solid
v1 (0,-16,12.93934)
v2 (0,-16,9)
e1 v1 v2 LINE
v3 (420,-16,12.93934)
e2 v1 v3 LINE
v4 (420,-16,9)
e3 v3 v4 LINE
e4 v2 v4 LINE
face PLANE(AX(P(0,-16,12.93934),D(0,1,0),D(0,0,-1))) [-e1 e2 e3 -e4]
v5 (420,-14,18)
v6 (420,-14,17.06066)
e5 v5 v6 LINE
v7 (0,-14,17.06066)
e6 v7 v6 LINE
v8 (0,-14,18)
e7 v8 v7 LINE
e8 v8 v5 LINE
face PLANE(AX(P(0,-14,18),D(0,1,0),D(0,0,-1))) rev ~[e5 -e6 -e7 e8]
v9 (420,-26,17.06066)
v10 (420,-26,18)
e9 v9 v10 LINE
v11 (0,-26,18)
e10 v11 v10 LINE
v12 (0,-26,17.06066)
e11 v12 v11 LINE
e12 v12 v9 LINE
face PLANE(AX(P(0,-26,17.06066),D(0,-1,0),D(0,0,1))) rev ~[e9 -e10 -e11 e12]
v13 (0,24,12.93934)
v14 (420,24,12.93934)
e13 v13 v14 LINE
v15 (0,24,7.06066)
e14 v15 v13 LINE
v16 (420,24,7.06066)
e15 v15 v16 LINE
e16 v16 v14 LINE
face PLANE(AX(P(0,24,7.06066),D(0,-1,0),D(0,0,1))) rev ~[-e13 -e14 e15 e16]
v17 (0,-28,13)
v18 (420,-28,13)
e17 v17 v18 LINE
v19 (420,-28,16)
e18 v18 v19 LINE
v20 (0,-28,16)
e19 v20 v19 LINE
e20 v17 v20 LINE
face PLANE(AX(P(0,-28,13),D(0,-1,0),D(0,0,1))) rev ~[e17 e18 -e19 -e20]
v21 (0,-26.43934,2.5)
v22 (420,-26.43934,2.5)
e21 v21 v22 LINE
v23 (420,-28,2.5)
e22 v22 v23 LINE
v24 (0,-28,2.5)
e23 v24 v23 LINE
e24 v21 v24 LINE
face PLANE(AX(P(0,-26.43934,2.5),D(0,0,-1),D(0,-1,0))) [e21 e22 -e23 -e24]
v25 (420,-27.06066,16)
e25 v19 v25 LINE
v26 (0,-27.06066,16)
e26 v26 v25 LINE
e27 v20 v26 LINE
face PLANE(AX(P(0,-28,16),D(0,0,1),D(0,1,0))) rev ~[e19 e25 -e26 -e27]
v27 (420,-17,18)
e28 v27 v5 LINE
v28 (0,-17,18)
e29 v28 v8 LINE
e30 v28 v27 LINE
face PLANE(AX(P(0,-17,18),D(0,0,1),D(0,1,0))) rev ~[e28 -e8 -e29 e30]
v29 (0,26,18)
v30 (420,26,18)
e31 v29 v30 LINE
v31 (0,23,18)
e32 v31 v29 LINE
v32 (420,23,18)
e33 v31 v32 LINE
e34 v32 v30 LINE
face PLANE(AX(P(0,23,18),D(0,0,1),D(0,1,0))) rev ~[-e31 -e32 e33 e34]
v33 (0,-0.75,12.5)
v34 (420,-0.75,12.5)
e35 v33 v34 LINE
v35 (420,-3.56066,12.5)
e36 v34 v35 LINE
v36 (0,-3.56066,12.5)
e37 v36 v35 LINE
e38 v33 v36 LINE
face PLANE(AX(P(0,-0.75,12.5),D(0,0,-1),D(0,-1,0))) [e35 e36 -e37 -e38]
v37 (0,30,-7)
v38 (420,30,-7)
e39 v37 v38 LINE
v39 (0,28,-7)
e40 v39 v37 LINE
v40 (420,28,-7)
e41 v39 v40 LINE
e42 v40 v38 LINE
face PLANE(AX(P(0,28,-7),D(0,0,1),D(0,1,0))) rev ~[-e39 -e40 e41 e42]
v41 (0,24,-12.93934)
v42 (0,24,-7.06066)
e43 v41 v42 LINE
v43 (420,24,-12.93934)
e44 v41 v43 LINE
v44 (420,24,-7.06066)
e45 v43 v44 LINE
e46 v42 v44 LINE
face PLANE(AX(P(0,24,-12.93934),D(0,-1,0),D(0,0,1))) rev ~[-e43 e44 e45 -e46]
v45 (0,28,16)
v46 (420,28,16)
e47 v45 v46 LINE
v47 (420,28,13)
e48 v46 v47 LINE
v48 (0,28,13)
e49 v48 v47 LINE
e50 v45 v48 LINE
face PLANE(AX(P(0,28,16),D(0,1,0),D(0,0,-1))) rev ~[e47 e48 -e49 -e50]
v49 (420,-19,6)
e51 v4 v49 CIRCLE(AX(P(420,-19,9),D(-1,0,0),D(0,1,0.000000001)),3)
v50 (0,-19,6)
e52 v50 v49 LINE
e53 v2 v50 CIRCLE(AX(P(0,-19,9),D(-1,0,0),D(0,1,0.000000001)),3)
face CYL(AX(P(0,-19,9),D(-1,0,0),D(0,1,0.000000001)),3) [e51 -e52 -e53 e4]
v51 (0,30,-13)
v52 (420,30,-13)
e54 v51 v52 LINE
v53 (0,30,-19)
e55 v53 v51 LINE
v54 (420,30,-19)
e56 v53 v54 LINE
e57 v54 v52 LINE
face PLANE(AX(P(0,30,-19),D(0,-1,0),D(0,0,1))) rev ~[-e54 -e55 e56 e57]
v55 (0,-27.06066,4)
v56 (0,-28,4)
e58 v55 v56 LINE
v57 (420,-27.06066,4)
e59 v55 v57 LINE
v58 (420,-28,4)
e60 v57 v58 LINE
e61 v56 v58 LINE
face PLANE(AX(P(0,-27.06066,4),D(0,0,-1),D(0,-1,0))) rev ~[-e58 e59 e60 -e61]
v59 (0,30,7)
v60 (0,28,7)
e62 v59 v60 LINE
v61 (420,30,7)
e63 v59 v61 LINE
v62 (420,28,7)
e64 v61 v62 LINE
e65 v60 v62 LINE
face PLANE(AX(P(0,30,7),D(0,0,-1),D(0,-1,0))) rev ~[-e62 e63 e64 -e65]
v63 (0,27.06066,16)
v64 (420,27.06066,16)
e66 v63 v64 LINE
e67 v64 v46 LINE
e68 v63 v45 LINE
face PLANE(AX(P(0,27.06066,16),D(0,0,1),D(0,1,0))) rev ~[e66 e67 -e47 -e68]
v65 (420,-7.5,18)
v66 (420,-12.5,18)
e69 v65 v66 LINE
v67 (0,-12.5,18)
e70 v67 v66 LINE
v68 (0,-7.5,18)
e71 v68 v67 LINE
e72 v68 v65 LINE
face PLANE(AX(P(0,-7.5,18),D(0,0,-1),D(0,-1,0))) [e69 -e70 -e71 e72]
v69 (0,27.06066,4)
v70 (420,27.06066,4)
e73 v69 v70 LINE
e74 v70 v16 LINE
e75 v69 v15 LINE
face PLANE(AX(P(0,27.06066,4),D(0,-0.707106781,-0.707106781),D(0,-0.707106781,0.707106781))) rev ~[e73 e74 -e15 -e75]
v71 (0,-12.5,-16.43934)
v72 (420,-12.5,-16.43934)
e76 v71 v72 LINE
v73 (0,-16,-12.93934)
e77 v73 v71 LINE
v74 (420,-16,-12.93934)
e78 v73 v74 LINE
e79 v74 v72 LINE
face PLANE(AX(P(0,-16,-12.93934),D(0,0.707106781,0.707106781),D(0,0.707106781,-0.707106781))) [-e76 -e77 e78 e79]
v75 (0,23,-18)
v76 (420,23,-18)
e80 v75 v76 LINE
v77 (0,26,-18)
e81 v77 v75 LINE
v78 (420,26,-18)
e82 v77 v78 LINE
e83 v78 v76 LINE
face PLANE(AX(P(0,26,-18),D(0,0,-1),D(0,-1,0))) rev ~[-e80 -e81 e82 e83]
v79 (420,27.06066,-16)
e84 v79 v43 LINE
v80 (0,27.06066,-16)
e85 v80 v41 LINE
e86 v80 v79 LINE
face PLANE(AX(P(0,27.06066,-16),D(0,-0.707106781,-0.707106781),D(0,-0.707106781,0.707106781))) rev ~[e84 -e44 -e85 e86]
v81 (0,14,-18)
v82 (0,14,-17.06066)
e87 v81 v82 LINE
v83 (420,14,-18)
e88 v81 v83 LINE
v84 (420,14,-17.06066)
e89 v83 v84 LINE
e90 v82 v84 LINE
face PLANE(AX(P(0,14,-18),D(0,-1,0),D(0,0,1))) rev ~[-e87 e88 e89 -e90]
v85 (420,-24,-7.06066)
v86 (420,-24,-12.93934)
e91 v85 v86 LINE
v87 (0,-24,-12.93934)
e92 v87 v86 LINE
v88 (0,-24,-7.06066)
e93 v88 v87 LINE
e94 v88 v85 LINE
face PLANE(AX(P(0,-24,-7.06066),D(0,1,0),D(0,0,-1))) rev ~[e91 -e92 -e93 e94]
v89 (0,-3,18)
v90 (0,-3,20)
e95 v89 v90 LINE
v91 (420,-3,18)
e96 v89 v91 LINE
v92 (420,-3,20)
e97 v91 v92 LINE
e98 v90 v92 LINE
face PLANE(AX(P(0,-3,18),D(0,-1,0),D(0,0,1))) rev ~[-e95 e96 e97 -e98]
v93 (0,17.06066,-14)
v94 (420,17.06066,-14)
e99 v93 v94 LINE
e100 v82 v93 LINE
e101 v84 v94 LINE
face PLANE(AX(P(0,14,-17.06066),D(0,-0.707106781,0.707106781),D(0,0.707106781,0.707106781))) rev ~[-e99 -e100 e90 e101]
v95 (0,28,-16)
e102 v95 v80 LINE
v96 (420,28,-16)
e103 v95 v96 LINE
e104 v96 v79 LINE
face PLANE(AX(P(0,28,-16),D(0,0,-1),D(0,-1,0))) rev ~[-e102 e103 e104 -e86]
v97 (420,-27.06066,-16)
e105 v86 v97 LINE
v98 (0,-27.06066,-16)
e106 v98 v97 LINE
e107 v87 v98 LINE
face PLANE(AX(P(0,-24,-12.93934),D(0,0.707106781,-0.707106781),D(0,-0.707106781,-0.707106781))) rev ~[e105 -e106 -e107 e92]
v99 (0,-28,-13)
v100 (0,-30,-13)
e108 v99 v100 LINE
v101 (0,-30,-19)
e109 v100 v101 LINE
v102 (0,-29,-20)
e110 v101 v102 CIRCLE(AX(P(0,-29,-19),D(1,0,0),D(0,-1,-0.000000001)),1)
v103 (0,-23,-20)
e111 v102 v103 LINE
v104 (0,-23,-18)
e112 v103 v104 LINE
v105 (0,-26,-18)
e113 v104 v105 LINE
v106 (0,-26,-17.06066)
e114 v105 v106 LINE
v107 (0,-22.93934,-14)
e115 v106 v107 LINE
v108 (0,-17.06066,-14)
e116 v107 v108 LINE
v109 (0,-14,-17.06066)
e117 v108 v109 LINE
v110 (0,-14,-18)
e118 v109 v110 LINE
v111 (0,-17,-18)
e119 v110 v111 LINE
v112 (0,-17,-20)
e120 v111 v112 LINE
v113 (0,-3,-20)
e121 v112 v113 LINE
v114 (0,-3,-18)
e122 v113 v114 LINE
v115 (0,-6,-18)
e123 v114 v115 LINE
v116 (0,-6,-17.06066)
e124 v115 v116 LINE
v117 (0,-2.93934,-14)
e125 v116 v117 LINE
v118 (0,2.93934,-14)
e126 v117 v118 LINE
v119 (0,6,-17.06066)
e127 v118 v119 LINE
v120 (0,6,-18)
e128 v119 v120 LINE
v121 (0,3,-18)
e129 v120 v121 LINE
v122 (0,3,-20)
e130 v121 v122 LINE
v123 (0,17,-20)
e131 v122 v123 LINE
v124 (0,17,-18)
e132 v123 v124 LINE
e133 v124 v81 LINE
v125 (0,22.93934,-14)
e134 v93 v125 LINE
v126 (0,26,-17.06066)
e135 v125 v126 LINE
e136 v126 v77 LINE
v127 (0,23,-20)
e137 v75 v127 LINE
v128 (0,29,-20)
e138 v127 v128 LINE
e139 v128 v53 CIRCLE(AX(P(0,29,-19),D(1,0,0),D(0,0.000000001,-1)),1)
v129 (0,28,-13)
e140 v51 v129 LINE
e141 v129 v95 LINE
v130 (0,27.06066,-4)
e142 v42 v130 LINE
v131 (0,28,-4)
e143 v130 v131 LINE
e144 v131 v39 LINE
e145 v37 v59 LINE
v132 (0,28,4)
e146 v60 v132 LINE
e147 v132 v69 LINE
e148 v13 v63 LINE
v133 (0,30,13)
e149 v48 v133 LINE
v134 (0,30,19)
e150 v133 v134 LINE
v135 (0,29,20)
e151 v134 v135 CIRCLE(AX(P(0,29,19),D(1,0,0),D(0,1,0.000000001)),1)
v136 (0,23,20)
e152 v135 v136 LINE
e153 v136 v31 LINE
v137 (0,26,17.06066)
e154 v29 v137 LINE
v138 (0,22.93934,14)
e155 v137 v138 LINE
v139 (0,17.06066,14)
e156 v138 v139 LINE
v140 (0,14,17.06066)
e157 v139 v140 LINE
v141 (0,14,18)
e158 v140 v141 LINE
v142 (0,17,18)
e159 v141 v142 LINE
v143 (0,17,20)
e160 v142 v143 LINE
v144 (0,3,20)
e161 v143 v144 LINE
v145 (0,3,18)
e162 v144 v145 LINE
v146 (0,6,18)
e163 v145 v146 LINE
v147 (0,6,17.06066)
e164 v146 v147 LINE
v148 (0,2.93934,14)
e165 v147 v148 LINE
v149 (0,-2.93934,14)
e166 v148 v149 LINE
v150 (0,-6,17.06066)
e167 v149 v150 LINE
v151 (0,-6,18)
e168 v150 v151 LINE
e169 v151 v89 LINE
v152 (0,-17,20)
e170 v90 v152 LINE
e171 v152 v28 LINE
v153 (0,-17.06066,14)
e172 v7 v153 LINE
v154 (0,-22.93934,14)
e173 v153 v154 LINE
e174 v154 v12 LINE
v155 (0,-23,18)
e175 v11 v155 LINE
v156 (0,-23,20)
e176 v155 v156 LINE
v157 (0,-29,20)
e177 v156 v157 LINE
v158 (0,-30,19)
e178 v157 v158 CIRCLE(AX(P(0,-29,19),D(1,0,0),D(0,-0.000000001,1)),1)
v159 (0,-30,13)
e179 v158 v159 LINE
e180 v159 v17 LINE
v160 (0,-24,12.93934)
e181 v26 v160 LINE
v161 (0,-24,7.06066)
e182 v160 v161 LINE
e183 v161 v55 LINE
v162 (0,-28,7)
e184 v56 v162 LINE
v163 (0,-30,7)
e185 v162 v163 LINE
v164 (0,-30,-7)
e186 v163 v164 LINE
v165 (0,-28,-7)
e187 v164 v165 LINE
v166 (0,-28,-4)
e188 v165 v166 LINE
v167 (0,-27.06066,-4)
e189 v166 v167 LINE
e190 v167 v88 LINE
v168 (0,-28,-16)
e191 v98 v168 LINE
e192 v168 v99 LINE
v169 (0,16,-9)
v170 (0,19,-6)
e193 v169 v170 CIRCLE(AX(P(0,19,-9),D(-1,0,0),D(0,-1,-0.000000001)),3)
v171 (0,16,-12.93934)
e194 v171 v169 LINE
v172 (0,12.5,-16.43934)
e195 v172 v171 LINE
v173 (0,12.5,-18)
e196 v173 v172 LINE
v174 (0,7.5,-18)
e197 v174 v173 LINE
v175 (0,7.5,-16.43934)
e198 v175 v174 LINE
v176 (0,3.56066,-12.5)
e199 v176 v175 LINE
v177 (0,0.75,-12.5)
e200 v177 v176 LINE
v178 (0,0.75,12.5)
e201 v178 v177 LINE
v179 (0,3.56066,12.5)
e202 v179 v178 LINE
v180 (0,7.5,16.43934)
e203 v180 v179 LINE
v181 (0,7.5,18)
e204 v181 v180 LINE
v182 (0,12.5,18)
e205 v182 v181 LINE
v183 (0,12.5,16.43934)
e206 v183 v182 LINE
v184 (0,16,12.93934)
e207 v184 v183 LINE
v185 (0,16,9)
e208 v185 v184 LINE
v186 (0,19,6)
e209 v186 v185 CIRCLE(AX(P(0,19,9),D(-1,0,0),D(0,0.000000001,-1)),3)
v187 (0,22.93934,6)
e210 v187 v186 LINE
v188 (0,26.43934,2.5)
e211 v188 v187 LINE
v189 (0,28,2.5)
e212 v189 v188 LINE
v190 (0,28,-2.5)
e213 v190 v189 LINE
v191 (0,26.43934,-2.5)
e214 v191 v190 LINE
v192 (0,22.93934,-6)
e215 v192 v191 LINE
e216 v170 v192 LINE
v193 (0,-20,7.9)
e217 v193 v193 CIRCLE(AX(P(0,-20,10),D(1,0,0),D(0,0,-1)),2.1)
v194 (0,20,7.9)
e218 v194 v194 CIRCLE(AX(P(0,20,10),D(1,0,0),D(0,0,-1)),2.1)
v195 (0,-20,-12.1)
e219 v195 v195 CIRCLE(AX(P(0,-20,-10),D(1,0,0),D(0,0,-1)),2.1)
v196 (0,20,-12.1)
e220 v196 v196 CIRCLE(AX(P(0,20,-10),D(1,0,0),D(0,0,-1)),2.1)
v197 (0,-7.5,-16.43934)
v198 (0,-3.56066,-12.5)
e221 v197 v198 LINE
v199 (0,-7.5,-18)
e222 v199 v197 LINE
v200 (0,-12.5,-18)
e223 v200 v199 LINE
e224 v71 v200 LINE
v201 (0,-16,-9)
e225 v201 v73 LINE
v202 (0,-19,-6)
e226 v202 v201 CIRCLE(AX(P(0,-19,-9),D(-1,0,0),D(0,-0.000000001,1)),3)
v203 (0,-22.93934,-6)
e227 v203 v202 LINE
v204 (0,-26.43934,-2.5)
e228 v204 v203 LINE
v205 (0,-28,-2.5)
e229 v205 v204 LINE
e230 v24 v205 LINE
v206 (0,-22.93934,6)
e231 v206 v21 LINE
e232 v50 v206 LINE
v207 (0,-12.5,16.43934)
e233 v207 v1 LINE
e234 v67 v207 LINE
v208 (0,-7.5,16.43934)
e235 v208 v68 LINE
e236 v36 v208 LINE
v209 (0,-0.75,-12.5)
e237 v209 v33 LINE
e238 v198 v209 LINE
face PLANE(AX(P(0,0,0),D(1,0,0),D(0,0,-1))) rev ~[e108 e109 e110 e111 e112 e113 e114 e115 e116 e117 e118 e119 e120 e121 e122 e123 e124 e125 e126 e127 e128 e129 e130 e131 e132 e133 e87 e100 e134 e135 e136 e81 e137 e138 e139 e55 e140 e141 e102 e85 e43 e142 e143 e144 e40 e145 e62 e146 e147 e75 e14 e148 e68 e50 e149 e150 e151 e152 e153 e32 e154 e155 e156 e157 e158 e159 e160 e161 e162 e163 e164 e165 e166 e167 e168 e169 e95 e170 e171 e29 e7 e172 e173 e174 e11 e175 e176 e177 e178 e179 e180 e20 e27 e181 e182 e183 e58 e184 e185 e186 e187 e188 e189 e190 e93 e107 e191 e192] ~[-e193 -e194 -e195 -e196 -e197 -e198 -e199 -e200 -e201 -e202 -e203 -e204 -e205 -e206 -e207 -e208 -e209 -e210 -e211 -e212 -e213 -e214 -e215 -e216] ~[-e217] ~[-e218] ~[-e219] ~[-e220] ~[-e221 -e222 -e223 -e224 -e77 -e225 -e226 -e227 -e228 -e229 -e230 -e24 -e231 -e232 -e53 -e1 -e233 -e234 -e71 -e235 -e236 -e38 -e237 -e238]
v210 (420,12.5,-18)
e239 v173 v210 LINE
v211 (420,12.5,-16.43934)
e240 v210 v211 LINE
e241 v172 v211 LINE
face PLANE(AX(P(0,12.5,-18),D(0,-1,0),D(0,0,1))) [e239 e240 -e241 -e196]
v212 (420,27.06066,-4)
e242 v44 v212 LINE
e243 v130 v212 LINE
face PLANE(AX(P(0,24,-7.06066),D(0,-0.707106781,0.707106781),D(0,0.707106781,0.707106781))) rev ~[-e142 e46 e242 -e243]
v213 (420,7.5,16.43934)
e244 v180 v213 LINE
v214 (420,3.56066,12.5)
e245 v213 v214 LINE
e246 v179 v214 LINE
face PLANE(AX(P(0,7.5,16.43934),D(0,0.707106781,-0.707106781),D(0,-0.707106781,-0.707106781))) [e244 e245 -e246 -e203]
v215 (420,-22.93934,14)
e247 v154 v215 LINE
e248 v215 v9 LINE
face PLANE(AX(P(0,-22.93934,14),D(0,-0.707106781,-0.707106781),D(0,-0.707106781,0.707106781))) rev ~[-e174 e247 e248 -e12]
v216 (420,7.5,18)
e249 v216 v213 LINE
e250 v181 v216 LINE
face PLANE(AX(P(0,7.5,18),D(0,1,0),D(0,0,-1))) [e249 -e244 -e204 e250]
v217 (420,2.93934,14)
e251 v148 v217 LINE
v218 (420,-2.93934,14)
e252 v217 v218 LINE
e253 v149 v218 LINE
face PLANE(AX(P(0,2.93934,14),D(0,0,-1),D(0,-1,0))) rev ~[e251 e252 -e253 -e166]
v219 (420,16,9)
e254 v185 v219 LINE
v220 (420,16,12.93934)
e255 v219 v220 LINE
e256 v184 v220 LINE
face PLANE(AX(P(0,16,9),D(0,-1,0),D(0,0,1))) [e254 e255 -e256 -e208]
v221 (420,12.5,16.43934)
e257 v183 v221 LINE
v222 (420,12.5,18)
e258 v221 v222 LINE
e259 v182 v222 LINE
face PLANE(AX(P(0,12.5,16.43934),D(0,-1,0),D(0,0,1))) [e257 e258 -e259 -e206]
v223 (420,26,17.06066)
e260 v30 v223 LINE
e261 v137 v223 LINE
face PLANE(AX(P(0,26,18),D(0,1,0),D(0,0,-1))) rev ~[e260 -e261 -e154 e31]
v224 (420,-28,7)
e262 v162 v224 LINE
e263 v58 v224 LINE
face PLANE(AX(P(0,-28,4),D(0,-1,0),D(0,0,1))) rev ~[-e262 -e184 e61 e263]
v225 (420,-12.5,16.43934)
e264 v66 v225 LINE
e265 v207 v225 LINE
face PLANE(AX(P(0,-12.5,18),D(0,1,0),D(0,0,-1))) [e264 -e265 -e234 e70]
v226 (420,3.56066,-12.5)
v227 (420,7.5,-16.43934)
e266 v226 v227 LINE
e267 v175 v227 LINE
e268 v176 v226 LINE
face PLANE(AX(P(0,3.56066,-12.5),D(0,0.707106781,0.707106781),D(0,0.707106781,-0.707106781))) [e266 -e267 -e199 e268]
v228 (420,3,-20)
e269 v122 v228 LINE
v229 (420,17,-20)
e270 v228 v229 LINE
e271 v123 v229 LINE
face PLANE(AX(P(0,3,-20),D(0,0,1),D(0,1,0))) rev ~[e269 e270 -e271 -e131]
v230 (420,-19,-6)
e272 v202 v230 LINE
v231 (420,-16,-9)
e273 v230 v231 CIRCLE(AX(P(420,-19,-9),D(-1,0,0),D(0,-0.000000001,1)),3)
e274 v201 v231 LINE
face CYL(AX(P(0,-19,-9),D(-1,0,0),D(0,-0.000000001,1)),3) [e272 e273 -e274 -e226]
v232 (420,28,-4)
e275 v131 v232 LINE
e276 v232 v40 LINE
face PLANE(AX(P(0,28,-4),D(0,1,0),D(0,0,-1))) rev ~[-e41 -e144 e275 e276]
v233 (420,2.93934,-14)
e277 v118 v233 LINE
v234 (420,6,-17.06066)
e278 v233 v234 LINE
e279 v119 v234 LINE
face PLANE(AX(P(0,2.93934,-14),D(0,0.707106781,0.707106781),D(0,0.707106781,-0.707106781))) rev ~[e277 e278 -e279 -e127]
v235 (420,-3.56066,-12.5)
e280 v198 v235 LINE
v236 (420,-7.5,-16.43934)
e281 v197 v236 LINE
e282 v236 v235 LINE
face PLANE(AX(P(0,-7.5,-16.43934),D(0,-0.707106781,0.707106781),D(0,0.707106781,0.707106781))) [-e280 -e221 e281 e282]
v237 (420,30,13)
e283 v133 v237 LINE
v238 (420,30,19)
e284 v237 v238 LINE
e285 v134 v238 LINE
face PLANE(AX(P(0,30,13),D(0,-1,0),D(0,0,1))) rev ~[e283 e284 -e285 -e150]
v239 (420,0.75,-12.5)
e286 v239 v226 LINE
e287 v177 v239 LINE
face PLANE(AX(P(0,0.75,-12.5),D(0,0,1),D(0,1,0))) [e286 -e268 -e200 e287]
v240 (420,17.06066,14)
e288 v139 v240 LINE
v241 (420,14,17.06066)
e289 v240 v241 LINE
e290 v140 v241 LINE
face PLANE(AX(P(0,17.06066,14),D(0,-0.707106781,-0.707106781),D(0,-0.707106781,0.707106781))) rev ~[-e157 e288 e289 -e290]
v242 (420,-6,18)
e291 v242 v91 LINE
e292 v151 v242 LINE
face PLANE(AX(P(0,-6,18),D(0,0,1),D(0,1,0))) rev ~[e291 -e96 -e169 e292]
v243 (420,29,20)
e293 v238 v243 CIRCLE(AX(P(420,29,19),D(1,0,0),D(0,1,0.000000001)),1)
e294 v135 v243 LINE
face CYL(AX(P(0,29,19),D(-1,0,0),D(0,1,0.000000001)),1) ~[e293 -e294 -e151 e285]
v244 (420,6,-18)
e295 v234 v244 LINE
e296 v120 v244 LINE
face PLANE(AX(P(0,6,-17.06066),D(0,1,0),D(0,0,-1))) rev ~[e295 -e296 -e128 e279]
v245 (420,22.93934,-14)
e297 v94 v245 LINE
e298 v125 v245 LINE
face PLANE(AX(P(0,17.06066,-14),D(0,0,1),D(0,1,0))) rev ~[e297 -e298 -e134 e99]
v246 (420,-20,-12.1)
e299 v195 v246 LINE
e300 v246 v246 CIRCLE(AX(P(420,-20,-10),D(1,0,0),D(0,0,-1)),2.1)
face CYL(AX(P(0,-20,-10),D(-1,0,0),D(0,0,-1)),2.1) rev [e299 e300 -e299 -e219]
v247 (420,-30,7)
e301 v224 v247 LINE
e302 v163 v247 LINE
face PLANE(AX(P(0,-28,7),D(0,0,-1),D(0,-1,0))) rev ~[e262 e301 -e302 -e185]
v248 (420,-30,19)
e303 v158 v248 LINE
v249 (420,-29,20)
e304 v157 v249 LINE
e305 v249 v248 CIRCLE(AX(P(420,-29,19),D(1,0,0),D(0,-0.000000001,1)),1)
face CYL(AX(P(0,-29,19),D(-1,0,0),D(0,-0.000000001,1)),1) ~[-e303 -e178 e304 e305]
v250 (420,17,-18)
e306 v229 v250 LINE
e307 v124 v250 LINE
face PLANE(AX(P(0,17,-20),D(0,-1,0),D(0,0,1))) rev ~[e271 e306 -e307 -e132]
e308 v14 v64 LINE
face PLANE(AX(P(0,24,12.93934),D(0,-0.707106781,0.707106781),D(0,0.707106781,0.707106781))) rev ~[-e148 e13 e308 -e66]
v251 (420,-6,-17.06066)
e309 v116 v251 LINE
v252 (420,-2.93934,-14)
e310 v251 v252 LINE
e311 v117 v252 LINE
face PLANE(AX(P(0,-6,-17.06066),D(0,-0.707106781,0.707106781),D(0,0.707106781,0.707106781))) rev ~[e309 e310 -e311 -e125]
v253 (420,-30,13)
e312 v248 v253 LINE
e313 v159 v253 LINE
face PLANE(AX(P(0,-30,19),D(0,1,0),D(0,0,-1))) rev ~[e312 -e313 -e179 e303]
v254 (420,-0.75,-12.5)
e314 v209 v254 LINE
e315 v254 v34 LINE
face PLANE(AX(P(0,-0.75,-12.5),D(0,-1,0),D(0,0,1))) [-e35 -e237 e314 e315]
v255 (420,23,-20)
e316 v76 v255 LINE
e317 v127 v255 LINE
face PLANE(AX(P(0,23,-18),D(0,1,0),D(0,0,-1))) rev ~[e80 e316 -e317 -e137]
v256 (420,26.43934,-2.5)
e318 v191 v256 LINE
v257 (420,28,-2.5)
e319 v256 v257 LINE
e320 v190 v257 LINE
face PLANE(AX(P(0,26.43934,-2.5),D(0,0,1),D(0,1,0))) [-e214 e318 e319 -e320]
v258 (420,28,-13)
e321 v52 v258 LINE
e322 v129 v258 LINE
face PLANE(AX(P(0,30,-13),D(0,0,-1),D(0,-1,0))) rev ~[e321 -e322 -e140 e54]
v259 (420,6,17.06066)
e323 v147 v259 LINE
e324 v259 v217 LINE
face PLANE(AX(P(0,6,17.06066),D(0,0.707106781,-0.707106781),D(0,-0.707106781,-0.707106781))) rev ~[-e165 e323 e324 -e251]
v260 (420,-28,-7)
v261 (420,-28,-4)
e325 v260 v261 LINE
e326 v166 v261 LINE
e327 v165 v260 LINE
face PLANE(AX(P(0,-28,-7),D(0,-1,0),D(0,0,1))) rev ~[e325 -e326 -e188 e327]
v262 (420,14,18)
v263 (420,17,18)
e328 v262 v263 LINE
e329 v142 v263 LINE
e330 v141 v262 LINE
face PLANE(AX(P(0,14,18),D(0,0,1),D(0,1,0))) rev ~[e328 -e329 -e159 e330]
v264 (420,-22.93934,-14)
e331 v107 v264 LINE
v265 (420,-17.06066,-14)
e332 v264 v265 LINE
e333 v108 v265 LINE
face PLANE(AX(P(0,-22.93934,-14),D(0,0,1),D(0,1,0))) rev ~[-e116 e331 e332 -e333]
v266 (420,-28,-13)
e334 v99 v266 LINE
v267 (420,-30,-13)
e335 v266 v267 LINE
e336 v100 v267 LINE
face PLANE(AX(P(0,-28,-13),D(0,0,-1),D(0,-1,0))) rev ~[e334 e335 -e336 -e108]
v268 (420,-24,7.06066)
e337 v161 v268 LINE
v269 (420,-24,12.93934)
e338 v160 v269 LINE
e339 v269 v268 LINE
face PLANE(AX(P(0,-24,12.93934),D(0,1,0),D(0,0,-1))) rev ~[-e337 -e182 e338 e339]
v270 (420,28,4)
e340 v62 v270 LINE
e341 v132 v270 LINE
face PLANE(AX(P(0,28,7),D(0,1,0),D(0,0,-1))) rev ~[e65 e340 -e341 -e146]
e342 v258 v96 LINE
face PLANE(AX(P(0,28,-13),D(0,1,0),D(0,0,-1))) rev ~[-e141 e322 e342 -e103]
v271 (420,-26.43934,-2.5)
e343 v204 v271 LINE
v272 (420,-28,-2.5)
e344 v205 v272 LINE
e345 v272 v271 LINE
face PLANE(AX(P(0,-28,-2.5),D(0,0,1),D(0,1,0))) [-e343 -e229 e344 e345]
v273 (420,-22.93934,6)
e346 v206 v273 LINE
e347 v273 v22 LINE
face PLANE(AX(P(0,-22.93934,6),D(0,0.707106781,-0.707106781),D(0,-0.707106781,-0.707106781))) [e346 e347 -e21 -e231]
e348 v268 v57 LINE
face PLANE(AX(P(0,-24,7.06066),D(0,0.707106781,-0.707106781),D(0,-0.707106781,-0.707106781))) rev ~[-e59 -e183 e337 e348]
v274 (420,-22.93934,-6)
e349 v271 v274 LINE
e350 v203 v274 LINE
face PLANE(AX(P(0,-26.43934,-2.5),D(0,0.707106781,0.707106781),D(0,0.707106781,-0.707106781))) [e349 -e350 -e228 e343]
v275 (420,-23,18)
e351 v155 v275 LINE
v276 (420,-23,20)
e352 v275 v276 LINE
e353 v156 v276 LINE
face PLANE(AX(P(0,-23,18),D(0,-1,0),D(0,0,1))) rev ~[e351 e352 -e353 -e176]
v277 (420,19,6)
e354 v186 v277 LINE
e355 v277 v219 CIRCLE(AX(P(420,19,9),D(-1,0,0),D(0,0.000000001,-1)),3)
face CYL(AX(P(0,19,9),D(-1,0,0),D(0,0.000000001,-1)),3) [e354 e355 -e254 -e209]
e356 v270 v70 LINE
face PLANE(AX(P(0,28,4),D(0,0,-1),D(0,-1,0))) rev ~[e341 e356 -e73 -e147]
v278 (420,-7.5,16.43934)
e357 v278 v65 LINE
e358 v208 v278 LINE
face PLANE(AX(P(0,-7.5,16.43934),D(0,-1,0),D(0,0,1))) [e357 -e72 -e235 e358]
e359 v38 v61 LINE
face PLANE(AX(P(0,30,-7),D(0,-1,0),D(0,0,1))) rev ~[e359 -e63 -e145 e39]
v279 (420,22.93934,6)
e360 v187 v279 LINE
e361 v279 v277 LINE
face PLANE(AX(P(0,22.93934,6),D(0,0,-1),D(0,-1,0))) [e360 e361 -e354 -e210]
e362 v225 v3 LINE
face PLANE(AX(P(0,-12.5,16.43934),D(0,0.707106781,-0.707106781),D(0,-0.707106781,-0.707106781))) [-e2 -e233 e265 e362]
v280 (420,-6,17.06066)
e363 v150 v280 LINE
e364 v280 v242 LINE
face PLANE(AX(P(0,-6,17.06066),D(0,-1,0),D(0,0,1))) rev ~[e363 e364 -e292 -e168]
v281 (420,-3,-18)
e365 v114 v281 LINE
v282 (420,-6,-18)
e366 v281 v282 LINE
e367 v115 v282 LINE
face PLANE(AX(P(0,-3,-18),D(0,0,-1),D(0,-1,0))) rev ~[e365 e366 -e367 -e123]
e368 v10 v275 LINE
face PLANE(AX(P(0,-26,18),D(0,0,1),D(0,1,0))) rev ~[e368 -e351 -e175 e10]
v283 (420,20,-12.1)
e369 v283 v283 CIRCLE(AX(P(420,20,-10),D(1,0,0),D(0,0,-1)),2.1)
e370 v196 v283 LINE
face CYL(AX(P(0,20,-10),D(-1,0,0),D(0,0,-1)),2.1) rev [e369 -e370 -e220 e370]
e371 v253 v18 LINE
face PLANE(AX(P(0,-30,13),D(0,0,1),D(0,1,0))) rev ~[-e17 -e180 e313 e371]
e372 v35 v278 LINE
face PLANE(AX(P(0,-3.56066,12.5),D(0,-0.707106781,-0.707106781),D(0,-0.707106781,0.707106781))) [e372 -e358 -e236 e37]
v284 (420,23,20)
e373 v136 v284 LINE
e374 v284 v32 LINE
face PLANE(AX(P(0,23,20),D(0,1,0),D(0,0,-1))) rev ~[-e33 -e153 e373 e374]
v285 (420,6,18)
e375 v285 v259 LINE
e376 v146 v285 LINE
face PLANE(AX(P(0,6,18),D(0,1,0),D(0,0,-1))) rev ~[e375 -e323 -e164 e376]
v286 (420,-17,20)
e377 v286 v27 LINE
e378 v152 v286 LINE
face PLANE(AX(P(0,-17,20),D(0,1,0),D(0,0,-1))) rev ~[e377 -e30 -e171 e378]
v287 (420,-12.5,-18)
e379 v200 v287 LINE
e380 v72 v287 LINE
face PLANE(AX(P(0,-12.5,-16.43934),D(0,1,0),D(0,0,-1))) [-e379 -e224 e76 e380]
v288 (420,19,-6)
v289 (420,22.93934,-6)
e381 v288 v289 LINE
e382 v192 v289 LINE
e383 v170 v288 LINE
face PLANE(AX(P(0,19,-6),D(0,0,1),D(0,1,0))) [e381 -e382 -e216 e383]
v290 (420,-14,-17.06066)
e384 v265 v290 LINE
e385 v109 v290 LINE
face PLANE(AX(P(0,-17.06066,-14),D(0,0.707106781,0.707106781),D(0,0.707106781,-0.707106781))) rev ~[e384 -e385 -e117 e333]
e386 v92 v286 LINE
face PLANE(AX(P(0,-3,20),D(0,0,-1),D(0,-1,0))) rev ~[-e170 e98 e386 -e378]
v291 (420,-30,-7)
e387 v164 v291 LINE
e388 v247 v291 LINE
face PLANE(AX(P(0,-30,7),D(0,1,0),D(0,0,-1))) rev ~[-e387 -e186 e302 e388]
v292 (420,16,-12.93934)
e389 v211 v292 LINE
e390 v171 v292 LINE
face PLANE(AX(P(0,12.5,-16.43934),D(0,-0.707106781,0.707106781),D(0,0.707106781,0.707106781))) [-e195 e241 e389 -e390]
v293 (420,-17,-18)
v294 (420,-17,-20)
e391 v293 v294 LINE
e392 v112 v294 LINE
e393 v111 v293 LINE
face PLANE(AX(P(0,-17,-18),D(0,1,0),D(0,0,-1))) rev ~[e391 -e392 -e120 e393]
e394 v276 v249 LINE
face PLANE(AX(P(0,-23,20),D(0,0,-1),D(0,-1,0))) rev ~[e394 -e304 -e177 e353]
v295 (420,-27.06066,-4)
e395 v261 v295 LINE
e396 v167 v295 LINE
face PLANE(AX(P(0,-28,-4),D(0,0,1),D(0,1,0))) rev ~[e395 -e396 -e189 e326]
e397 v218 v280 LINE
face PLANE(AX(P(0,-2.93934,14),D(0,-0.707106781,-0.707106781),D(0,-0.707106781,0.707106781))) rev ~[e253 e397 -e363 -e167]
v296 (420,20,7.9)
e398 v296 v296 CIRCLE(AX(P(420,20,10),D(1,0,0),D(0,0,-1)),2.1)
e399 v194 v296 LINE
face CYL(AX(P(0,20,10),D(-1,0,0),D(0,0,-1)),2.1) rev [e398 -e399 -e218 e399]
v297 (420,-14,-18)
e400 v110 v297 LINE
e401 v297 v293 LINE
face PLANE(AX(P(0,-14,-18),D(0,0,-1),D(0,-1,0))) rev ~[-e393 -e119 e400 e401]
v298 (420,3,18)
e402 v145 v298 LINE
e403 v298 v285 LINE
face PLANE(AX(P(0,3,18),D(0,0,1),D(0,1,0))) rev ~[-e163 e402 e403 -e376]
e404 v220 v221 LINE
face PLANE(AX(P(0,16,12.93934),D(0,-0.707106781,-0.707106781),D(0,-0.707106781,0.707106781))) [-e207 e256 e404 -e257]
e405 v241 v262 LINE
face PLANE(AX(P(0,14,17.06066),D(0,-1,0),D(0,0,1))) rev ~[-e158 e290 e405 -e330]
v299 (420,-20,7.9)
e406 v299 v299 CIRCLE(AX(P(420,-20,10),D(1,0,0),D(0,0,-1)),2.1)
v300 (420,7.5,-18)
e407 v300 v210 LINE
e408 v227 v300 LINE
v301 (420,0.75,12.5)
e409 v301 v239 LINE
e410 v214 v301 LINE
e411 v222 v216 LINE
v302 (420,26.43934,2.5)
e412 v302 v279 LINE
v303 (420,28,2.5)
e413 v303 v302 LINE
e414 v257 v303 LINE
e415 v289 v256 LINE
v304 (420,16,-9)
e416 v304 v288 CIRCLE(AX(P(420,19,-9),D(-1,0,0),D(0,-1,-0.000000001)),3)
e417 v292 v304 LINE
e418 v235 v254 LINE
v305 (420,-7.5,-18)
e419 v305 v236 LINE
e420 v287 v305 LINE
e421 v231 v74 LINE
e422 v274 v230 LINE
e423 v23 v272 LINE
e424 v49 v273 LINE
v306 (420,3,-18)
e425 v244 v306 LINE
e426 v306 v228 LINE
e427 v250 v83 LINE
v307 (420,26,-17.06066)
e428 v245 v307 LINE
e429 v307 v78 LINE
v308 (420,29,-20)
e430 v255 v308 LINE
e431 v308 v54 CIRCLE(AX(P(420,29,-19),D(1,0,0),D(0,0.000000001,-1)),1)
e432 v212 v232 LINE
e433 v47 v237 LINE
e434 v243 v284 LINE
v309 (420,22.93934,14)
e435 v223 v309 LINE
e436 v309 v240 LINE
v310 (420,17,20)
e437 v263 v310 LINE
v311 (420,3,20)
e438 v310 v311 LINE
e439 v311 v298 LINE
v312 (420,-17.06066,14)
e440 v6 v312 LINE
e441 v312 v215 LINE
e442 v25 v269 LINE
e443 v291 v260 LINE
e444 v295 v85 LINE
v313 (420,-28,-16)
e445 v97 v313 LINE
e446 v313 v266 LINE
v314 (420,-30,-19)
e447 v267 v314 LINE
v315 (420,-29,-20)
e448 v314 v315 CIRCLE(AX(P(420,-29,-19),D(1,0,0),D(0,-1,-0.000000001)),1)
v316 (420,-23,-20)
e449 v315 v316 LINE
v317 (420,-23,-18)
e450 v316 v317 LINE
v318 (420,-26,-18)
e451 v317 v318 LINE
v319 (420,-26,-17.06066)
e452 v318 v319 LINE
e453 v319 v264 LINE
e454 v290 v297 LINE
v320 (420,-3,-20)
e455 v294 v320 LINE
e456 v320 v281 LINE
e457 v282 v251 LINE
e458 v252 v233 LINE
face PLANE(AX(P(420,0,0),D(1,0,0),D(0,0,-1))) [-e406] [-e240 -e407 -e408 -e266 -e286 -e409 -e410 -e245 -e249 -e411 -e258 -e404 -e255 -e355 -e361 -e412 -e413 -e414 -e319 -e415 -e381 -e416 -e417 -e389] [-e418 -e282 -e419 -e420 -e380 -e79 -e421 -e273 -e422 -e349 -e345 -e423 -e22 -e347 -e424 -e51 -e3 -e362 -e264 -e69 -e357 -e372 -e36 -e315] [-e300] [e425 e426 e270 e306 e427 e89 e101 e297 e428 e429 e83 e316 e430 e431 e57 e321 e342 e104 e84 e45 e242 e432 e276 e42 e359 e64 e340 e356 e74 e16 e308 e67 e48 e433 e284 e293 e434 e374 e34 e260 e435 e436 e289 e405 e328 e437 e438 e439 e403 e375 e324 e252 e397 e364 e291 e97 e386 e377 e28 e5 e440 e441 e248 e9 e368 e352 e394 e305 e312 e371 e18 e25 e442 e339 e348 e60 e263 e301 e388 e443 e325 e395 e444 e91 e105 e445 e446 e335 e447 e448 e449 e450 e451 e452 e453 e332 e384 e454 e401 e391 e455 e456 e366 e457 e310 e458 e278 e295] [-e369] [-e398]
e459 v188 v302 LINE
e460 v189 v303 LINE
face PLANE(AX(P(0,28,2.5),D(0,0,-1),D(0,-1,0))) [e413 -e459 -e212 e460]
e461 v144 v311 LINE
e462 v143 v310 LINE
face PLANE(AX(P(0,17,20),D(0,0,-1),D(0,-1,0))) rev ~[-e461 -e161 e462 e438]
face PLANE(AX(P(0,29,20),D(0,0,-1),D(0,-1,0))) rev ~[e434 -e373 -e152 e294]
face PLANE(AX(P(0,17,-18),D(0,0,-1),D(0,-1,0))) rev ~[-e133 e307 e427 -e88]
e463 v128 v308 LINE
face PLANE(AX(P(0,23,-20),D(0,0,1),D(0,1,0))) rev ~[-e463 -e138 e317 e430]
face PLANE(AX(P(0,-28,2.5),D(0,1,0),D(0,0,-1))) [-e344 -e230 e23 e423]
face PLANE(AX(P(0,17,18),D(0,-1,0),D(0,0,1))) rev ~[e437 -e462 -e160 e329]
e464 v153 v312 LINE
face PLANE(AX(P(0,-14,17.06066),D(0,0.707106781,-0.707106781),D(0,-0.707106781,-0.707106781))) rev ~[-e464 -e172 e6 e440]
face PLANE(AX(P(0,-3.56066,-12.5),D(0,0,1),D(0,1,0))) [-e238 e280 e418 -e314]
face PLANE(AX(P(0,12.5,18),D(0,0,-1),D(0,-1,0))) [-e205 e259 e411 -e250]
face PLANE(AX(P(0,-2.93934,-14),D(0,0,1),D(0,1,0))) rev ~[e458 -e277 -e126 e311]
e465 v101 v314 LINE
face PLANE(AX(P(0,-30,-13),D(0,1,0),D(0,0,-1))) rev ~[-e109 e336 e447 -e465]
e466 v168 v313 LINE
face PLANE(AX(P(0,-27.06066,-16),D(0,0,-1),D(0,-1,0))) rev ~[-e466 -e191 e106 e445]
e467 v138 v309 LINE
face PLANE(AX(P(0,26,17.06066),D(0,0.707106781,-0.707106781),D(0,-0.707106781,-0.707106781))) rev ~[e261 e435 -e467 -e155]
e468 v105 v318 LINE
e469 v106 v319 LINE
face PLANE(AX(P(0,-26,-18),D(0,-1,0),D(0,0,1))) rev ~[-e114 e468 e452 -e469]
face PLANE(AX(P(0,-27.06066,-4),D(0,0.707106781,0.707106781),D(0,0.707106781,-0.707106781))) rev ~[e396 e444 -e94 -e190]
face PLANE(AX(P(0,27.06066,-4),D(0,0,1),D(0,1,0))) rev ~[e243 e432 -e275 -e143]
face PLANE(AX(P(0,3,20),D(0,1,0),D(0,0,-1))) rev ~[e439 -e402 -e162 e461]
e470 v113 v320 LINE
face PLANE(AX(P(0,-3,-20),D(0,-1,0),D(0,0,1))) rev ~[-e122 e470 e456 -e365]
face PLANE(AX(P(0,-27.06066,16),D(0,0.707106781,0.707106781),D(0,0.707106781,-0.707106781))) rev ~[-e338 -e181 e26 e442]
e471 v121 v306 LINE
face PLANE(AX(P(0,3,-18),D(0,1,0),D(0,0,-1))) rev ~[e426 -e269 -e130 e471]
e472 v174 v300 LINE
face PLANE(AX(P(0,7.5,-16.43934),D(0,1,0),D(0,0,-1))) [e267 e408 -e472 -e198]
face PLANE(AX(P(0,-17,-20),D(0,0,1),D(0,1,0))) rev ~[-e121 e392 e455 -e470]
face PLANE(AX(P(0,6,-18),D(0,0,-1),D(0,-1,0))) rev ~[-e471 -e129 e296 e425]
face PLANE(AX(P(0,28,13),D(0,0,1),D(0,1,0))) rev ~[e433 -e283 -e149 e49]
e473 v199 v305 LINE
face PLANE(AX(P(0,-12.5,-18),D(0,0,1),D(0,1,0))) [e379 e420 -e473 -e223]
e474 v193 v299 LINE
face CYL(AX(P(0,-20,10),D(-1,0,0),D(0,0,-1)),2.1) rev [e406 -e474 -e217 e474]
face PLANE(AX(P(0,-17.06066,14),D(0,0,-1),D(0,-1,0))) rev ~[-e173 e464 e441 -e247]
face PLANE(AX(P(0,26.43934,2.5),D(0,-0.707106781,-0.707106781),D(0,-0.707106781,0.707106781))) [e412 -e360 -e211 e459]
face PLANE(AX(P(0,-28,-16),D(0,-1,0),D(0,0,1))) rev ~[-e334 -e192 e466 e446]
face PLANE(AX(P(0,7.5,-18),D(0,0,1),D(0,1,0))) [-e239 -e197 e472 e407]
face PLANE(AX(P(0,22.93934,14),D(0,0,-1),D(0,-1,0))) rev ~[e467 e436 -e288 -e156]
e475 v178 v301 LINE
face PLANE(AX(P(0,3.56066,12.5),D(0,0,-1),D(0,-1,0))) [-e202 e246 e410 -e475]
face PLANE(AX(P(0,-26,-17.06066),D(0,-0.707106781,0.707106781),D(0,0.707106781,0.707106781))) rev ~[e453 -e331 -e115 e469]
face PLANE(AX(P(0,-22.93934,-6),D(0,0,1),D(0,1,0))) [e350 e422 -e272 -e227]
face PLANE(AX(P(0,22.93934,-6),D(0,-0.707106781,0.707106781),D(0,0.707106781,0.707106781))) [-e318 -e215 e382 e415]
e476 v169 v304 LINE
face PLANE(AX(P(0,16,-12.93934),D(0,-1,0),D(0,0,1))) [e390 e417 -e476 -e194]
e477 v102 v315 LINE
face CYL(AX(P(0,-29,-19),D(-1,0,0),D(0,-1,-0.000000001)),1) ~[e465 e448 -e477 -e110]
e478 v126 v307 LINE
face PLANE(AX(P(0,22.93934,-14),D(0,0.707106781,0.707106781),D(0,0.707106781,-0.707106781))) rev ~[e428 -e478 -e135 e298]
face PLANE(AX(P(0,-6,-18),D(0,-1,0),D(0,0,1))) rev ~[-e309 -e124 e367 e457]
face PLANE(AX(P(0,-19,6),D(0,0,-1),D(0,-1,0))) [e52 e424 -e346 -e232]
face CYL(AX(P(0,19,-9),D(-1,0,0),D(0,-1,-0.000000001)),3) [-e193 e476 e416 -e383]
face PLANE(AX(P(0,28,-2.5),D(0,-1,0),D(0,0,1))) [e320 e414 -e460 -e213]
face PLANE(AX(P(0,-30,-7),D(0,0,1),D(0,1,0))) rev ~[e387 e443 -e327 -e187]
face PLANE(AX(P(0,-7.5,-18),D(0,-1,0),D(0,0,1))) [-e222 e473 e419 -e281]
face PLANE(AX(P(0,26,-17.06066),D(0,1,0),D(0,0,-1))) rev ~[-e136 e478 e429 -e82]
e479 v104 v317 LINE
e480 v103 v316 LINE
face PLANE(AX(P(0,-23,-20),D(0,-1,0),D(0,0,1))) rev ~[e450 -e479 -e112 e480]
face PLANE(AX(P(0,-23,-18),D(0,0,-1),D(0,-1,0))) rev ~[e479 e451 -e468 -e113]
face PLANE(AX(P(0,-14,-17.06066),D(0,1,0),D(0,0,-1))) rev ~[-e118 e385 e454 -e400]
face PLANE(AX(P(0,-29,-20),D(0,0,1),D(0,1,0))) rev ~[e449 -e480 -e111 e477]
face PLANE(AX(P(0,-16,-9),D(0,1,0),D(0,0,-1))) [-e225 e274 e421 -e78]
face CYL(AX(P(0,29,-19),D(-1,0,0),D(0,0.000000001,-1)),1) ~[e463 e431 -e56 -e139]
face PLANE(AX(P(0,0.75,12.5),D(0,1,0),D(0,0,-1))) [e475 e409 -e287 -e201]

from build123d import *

# Parameters (mm, degrees)
SKETCH1_R           = 2.1
BOSS_EXTRUDE1_DEPTH = 420


with BuildPart() as part:
    # Sketch1 → Boss-Extrude1 (new body)
    with BuildSketch(Plane(origin=(0, 0, 0), x_dir=(0, 0, -1), z_dir=(1, 0, 0))):
        with BuildLine():
            Line((-20, 29), (-20, 23))
            Line((-20, 23), (-18, 23))
            Line((-18, 23), (-18, 26))
            Line((-18, 26), (-17.060660172, 26))
            Line((-17.060660172, 26), (-14, 22.939339828))
            Line((-14, 22.939339828), (-14, 17.060660172))
            Line((-14, 17.060660172), (-17.060660172, 14))
            Line((-17.060660172, 14), (-18, 14))
            Line((-18, 14), (-18, 17))
            Line((-18, 17), (-20, 17))
            Line((-20, 17), (-20, 3))
            Line((-20, 3), (-18, 3))
            Line((-18, 3), (-18, 6))
            Line((-18, 6), (-17.060660172, 6))
            Line((-17.060660172, 6), (-14, 2.939339828))
            Line((-14, 2.939339828), (-14, -2.939339828))
            Line((-14, -2.939339828), (-17.060660172, -6))
            Line((-17.060660172, -6), (-18, -6))
            Line((-18, -6), (-18, -3))
            Line((-18, -3), (-20, -3))
            Line((-20, -3), (-20, -17))
            Line((-20, -17), (-18, -17))
            Line((-18, -17), (-18, -14))
            Line((-18, -14), (-17.060660172, -14))
            Line((-17.060660172, -14), (-14, -17.060660172))
            Line((-14, -17.060660172), (-14, -22.939339828))
            Line((-14, -22.939339828), (-17.060660172, -26))
            Line((-17.060660172, -26), (-18, -26))
            Line((-18, -26), (-18, -23))
            Line((-18, -23), (-20, -23))
            Line((-20, -23), (-20, -29))
            ThreePointArc((-20, -29), (-19.707106781, -29.707106781), (-19, -30))
            Line((-19, -30), (-13, -30))
            Line((-13, -30), (-13, -28))
            Line((-13, -28), (-16, -28))
            Line((-16, -28), (-16, -27.060660172))
            Line((-16, -27.060660172), (-12.939339828, -24))
            Line((-12.939339828, -24), (-7.060660172, -24))
            Line((-7.060660172, -24), (-4, -27.060660172))
            Line((-4, -27.060660172), (-4, -28))
            Line((-4, -28), (-7, -28))
            Line((-7, -28), (-7, -30))
            Line((-7, -30), (7, -30))
            Line((7, -30), (7, -28))
            Line((7, -28), (4, -28))
            Line((4, -28), (4, -27.060660172))
            Line((4, -27.060660172), (7.060660172, -24))
            Line((7.060660172, -24), (12.939339828, -24))
            Line((12.939339828, -24), (16, -27.060660172))
            Line((16, -27.060660172), (16, -28))
            Line((16, -28), (13, -28))
            Line((13, -28), (13, -30))
            Line((13, -30), (19, -30))
            ThreePointArc((19, -30), (19.707106781, -29.707106781), (20, -29))
            Line((20, -29), (20, -23))
            Line((20, -23), (18, -23))
            Line((18, -23), (18, -26))
            Line((18, -26), (17.060660172, -26))
            Line((17.060660172, -26), (14, -22.939339828))
            Line((14, -22.939339828), (14, -17.060660172))
            Line((14, -17.060660172), (17.060660172, -14))
            Line((17.060660172, -14), (18, -14))
            Line((18, -14), (18, -17))
            Line((18, -17), (20, -17))
            Line((20, -17), (20, -3))
            Line((20, -3), (18, -3))
            Line((18, -3), (18, -6))
            Line((18, -6), (17.060660172, -6))
            Line((17.060660172, -6), (14, -2.939339828))
            Line((14, -2.939339828), (14, 2.939339828))
            Line((14, 2.939339828), (17.060660172, 6))
            Line((17.060660172, 6), (18, 6))
            Line((18, 6), (18, 3))
            Line((18, 3), (20, 3))
            Line((20, 3), (20, 17))
            Line((20, 17), (18, 17))
            Line((18, 17), (18, 14))
            Line((18, 14), (17.060660172, 14))
            Line((17.060660172, 14), (14, 17.060660172))
            Line((14, 17.060660172), (14, 22.939339828))
            Line((14, 22.939339828), (17.060660172, 26))
            Line((17.060660172, 26), (18, 26))
            Line((18, 26), (18, 23))
            Line((18, 23), (20, 23))
            Line((20, 23), (20, 29))
            ThreePointArc((20, 29), (19.707106781, 29.707106781), (19, 30))
            Line((19, 30), (13, 30))
            Line((13, 30), (13, 28))
            Line((13, 28), (16, 28))
            Line((16, 28), (16, 27.060660172))
            Line((16, 27.060660172), (12.939339828, 24))
            Line((12.939339828, 24), (7.060660172, 24))
            Line((7.060660172, 24), (4, 27.060660172))
            Line((4, 27.060660172), (4, 28))
            Line((4, 28), (7, 28))
            Line((7, 28), (7, 30))
            Line((7, 30), (-7, 30))
            Line((-7, 30), (-7, 28))
            Line((-7, 28), (-4, 28))
            Line((-4, 28), (-4, 27.060660172))
            Line((-4, 27.060660172), (-7.060660172, 24))
            Line((-7.060660172, 24), (-12.939339828, 24))
            Line((-12.939339828, 24), (-16, 27.060660172))
            Line((-16, 27.060660172), (-16, 28))
            Line((-16, 28), (-13, 28))
            Line((-13, 28), (-13, 30))
            Line((-13, 30), (-19, 30))
            ThreePointArc((-19, 30), (-19.707106781, 29.707106781), (-20, 29))
        make_face()
        with Locations((-10, 20)):
            Circle(SKETCH1_R, mode=Mode.SUBTRACT)
        with Locations((10, 20)):
            Circle(SKETCH1_R, mode=Mode.SUBTRACT)
        with Locations((10, -20)):
            Circle(SKETCH1_R, mode=Mode.SUBTRACT)
        with Locations((-10, -20)):
            Circle(SKETCH1_R, mode=Mode.SUBTRACT)
        with BuildLine():
            Line((-16.439339828, 12.5), (-18, 12.5))
            Line((-18, 12.5), (-18, 7.5))
            Line((-18, 7.5), (-16.439339828, 7.5))
            Line((-16.439339828, 7.5), (-12.5, 3.560660172))
            Line((-12.5, 3.560660172), (-12.5, 0.75))
            Line((-12.5, 0.75), (12.5, 0.75))
            Line((12.5, 0.75), (12.5, 3.560660172))
            Line((12.5, 3.560660172), (16.439339828, 7.5))
            Line((16.439339828, 7.5), (18, 7.5))
            Line((18, 7.5), (18, 12.5))
            Line((18, 12.5), (16.439339828, 12.5))
            Line((16.439339828, 12.5), (12.939339828, 16))
            Line((12.939339828, 16), (9, 16))
            ThreePointArc((9, 16), (6.878679656, 16.878679656), (6, 19))
            Line((6, 19), (6, 22.939339828))
            Line((6, 22.939339828), (2.5, 26.439339828))
            Line((2.5, 26.439339828), (2.5, 28))
            Line((2.5, 28), (-2.5, 28))
            Line((-2.5, 28), (-2.5, 26.439339828))
            Line((-2.5, 26.439339828), (-6, 22.939339828))
            Line((-6, 22.939339828), (-6, 19))
            ThreePointArc((-6, 19), (-6.878679656, 16.878679656), (-9, 16))
            Line((-9, 16), (-12.939339828, 16))
            Line((-12.939339828, 16), (-16.439339828, 12.5))
        make_face(mode=Mode.SUBTRACT)
        with BuildLine():
            Line((-18, -7.5), (-18, -12.5))
            Line((-18, -12.5), (-16.439339828, -12.5))
            Line((-16.439339828, -12.5), (-12.939339828, -16))
            Line((-12.939339828, -16), (-9, -16))
            ThreePointArc((-9, -16), (-6.878679656, -16.878679656), (-6, -19))
            Line((-6, -19), (-6, -22.939339828))
            Line((-6, -22.939339828), (-2.5, -26.439339828))
            Line((-2.5, -26.439339828), (-2.5, -28))
            Line((-2.5, -28), (2.5, -28))
            Line((2.5, -28), (2.5, -26.439339828))
            Line((2.5, -26.439339828), (6, -22.939339828))
            Line((6, -22.939339828), (6, -19))
            ThreePointArc((6, -19), (6.878679656, -16.878679656), (9, -16))
            Line((9, -16), (12.939339828, -16))
            Line((12.939339828, -16), (16.439339828, -12.5))
            Line((16.439339828, -12.5), (18, -12.5))
            Line((18, -12.5), (18, -7.5))
            Line((18, -7.5), (16.439339828, -7.5))
            Line((16.439339828, -7.5), (12.5, -3.560660172))
            Line((12.5, -3.560660172), (12.5, -0.75))
            Line((12.5, -0.75), (-12.5, -0.75))
            Line((-12.5, -0.75), (-12.5, -3.560660172))
            Line((-12.5, -3.560660172), (-16.439339828, -7.5))
            Line((-16.439339828, -7.5), (-18, -7.5))
        make_face(mode=Mode.SUBTRACT)
    extrude(amount=BOSS_EXTRUDE1_DEPTH)


solid = part.part
